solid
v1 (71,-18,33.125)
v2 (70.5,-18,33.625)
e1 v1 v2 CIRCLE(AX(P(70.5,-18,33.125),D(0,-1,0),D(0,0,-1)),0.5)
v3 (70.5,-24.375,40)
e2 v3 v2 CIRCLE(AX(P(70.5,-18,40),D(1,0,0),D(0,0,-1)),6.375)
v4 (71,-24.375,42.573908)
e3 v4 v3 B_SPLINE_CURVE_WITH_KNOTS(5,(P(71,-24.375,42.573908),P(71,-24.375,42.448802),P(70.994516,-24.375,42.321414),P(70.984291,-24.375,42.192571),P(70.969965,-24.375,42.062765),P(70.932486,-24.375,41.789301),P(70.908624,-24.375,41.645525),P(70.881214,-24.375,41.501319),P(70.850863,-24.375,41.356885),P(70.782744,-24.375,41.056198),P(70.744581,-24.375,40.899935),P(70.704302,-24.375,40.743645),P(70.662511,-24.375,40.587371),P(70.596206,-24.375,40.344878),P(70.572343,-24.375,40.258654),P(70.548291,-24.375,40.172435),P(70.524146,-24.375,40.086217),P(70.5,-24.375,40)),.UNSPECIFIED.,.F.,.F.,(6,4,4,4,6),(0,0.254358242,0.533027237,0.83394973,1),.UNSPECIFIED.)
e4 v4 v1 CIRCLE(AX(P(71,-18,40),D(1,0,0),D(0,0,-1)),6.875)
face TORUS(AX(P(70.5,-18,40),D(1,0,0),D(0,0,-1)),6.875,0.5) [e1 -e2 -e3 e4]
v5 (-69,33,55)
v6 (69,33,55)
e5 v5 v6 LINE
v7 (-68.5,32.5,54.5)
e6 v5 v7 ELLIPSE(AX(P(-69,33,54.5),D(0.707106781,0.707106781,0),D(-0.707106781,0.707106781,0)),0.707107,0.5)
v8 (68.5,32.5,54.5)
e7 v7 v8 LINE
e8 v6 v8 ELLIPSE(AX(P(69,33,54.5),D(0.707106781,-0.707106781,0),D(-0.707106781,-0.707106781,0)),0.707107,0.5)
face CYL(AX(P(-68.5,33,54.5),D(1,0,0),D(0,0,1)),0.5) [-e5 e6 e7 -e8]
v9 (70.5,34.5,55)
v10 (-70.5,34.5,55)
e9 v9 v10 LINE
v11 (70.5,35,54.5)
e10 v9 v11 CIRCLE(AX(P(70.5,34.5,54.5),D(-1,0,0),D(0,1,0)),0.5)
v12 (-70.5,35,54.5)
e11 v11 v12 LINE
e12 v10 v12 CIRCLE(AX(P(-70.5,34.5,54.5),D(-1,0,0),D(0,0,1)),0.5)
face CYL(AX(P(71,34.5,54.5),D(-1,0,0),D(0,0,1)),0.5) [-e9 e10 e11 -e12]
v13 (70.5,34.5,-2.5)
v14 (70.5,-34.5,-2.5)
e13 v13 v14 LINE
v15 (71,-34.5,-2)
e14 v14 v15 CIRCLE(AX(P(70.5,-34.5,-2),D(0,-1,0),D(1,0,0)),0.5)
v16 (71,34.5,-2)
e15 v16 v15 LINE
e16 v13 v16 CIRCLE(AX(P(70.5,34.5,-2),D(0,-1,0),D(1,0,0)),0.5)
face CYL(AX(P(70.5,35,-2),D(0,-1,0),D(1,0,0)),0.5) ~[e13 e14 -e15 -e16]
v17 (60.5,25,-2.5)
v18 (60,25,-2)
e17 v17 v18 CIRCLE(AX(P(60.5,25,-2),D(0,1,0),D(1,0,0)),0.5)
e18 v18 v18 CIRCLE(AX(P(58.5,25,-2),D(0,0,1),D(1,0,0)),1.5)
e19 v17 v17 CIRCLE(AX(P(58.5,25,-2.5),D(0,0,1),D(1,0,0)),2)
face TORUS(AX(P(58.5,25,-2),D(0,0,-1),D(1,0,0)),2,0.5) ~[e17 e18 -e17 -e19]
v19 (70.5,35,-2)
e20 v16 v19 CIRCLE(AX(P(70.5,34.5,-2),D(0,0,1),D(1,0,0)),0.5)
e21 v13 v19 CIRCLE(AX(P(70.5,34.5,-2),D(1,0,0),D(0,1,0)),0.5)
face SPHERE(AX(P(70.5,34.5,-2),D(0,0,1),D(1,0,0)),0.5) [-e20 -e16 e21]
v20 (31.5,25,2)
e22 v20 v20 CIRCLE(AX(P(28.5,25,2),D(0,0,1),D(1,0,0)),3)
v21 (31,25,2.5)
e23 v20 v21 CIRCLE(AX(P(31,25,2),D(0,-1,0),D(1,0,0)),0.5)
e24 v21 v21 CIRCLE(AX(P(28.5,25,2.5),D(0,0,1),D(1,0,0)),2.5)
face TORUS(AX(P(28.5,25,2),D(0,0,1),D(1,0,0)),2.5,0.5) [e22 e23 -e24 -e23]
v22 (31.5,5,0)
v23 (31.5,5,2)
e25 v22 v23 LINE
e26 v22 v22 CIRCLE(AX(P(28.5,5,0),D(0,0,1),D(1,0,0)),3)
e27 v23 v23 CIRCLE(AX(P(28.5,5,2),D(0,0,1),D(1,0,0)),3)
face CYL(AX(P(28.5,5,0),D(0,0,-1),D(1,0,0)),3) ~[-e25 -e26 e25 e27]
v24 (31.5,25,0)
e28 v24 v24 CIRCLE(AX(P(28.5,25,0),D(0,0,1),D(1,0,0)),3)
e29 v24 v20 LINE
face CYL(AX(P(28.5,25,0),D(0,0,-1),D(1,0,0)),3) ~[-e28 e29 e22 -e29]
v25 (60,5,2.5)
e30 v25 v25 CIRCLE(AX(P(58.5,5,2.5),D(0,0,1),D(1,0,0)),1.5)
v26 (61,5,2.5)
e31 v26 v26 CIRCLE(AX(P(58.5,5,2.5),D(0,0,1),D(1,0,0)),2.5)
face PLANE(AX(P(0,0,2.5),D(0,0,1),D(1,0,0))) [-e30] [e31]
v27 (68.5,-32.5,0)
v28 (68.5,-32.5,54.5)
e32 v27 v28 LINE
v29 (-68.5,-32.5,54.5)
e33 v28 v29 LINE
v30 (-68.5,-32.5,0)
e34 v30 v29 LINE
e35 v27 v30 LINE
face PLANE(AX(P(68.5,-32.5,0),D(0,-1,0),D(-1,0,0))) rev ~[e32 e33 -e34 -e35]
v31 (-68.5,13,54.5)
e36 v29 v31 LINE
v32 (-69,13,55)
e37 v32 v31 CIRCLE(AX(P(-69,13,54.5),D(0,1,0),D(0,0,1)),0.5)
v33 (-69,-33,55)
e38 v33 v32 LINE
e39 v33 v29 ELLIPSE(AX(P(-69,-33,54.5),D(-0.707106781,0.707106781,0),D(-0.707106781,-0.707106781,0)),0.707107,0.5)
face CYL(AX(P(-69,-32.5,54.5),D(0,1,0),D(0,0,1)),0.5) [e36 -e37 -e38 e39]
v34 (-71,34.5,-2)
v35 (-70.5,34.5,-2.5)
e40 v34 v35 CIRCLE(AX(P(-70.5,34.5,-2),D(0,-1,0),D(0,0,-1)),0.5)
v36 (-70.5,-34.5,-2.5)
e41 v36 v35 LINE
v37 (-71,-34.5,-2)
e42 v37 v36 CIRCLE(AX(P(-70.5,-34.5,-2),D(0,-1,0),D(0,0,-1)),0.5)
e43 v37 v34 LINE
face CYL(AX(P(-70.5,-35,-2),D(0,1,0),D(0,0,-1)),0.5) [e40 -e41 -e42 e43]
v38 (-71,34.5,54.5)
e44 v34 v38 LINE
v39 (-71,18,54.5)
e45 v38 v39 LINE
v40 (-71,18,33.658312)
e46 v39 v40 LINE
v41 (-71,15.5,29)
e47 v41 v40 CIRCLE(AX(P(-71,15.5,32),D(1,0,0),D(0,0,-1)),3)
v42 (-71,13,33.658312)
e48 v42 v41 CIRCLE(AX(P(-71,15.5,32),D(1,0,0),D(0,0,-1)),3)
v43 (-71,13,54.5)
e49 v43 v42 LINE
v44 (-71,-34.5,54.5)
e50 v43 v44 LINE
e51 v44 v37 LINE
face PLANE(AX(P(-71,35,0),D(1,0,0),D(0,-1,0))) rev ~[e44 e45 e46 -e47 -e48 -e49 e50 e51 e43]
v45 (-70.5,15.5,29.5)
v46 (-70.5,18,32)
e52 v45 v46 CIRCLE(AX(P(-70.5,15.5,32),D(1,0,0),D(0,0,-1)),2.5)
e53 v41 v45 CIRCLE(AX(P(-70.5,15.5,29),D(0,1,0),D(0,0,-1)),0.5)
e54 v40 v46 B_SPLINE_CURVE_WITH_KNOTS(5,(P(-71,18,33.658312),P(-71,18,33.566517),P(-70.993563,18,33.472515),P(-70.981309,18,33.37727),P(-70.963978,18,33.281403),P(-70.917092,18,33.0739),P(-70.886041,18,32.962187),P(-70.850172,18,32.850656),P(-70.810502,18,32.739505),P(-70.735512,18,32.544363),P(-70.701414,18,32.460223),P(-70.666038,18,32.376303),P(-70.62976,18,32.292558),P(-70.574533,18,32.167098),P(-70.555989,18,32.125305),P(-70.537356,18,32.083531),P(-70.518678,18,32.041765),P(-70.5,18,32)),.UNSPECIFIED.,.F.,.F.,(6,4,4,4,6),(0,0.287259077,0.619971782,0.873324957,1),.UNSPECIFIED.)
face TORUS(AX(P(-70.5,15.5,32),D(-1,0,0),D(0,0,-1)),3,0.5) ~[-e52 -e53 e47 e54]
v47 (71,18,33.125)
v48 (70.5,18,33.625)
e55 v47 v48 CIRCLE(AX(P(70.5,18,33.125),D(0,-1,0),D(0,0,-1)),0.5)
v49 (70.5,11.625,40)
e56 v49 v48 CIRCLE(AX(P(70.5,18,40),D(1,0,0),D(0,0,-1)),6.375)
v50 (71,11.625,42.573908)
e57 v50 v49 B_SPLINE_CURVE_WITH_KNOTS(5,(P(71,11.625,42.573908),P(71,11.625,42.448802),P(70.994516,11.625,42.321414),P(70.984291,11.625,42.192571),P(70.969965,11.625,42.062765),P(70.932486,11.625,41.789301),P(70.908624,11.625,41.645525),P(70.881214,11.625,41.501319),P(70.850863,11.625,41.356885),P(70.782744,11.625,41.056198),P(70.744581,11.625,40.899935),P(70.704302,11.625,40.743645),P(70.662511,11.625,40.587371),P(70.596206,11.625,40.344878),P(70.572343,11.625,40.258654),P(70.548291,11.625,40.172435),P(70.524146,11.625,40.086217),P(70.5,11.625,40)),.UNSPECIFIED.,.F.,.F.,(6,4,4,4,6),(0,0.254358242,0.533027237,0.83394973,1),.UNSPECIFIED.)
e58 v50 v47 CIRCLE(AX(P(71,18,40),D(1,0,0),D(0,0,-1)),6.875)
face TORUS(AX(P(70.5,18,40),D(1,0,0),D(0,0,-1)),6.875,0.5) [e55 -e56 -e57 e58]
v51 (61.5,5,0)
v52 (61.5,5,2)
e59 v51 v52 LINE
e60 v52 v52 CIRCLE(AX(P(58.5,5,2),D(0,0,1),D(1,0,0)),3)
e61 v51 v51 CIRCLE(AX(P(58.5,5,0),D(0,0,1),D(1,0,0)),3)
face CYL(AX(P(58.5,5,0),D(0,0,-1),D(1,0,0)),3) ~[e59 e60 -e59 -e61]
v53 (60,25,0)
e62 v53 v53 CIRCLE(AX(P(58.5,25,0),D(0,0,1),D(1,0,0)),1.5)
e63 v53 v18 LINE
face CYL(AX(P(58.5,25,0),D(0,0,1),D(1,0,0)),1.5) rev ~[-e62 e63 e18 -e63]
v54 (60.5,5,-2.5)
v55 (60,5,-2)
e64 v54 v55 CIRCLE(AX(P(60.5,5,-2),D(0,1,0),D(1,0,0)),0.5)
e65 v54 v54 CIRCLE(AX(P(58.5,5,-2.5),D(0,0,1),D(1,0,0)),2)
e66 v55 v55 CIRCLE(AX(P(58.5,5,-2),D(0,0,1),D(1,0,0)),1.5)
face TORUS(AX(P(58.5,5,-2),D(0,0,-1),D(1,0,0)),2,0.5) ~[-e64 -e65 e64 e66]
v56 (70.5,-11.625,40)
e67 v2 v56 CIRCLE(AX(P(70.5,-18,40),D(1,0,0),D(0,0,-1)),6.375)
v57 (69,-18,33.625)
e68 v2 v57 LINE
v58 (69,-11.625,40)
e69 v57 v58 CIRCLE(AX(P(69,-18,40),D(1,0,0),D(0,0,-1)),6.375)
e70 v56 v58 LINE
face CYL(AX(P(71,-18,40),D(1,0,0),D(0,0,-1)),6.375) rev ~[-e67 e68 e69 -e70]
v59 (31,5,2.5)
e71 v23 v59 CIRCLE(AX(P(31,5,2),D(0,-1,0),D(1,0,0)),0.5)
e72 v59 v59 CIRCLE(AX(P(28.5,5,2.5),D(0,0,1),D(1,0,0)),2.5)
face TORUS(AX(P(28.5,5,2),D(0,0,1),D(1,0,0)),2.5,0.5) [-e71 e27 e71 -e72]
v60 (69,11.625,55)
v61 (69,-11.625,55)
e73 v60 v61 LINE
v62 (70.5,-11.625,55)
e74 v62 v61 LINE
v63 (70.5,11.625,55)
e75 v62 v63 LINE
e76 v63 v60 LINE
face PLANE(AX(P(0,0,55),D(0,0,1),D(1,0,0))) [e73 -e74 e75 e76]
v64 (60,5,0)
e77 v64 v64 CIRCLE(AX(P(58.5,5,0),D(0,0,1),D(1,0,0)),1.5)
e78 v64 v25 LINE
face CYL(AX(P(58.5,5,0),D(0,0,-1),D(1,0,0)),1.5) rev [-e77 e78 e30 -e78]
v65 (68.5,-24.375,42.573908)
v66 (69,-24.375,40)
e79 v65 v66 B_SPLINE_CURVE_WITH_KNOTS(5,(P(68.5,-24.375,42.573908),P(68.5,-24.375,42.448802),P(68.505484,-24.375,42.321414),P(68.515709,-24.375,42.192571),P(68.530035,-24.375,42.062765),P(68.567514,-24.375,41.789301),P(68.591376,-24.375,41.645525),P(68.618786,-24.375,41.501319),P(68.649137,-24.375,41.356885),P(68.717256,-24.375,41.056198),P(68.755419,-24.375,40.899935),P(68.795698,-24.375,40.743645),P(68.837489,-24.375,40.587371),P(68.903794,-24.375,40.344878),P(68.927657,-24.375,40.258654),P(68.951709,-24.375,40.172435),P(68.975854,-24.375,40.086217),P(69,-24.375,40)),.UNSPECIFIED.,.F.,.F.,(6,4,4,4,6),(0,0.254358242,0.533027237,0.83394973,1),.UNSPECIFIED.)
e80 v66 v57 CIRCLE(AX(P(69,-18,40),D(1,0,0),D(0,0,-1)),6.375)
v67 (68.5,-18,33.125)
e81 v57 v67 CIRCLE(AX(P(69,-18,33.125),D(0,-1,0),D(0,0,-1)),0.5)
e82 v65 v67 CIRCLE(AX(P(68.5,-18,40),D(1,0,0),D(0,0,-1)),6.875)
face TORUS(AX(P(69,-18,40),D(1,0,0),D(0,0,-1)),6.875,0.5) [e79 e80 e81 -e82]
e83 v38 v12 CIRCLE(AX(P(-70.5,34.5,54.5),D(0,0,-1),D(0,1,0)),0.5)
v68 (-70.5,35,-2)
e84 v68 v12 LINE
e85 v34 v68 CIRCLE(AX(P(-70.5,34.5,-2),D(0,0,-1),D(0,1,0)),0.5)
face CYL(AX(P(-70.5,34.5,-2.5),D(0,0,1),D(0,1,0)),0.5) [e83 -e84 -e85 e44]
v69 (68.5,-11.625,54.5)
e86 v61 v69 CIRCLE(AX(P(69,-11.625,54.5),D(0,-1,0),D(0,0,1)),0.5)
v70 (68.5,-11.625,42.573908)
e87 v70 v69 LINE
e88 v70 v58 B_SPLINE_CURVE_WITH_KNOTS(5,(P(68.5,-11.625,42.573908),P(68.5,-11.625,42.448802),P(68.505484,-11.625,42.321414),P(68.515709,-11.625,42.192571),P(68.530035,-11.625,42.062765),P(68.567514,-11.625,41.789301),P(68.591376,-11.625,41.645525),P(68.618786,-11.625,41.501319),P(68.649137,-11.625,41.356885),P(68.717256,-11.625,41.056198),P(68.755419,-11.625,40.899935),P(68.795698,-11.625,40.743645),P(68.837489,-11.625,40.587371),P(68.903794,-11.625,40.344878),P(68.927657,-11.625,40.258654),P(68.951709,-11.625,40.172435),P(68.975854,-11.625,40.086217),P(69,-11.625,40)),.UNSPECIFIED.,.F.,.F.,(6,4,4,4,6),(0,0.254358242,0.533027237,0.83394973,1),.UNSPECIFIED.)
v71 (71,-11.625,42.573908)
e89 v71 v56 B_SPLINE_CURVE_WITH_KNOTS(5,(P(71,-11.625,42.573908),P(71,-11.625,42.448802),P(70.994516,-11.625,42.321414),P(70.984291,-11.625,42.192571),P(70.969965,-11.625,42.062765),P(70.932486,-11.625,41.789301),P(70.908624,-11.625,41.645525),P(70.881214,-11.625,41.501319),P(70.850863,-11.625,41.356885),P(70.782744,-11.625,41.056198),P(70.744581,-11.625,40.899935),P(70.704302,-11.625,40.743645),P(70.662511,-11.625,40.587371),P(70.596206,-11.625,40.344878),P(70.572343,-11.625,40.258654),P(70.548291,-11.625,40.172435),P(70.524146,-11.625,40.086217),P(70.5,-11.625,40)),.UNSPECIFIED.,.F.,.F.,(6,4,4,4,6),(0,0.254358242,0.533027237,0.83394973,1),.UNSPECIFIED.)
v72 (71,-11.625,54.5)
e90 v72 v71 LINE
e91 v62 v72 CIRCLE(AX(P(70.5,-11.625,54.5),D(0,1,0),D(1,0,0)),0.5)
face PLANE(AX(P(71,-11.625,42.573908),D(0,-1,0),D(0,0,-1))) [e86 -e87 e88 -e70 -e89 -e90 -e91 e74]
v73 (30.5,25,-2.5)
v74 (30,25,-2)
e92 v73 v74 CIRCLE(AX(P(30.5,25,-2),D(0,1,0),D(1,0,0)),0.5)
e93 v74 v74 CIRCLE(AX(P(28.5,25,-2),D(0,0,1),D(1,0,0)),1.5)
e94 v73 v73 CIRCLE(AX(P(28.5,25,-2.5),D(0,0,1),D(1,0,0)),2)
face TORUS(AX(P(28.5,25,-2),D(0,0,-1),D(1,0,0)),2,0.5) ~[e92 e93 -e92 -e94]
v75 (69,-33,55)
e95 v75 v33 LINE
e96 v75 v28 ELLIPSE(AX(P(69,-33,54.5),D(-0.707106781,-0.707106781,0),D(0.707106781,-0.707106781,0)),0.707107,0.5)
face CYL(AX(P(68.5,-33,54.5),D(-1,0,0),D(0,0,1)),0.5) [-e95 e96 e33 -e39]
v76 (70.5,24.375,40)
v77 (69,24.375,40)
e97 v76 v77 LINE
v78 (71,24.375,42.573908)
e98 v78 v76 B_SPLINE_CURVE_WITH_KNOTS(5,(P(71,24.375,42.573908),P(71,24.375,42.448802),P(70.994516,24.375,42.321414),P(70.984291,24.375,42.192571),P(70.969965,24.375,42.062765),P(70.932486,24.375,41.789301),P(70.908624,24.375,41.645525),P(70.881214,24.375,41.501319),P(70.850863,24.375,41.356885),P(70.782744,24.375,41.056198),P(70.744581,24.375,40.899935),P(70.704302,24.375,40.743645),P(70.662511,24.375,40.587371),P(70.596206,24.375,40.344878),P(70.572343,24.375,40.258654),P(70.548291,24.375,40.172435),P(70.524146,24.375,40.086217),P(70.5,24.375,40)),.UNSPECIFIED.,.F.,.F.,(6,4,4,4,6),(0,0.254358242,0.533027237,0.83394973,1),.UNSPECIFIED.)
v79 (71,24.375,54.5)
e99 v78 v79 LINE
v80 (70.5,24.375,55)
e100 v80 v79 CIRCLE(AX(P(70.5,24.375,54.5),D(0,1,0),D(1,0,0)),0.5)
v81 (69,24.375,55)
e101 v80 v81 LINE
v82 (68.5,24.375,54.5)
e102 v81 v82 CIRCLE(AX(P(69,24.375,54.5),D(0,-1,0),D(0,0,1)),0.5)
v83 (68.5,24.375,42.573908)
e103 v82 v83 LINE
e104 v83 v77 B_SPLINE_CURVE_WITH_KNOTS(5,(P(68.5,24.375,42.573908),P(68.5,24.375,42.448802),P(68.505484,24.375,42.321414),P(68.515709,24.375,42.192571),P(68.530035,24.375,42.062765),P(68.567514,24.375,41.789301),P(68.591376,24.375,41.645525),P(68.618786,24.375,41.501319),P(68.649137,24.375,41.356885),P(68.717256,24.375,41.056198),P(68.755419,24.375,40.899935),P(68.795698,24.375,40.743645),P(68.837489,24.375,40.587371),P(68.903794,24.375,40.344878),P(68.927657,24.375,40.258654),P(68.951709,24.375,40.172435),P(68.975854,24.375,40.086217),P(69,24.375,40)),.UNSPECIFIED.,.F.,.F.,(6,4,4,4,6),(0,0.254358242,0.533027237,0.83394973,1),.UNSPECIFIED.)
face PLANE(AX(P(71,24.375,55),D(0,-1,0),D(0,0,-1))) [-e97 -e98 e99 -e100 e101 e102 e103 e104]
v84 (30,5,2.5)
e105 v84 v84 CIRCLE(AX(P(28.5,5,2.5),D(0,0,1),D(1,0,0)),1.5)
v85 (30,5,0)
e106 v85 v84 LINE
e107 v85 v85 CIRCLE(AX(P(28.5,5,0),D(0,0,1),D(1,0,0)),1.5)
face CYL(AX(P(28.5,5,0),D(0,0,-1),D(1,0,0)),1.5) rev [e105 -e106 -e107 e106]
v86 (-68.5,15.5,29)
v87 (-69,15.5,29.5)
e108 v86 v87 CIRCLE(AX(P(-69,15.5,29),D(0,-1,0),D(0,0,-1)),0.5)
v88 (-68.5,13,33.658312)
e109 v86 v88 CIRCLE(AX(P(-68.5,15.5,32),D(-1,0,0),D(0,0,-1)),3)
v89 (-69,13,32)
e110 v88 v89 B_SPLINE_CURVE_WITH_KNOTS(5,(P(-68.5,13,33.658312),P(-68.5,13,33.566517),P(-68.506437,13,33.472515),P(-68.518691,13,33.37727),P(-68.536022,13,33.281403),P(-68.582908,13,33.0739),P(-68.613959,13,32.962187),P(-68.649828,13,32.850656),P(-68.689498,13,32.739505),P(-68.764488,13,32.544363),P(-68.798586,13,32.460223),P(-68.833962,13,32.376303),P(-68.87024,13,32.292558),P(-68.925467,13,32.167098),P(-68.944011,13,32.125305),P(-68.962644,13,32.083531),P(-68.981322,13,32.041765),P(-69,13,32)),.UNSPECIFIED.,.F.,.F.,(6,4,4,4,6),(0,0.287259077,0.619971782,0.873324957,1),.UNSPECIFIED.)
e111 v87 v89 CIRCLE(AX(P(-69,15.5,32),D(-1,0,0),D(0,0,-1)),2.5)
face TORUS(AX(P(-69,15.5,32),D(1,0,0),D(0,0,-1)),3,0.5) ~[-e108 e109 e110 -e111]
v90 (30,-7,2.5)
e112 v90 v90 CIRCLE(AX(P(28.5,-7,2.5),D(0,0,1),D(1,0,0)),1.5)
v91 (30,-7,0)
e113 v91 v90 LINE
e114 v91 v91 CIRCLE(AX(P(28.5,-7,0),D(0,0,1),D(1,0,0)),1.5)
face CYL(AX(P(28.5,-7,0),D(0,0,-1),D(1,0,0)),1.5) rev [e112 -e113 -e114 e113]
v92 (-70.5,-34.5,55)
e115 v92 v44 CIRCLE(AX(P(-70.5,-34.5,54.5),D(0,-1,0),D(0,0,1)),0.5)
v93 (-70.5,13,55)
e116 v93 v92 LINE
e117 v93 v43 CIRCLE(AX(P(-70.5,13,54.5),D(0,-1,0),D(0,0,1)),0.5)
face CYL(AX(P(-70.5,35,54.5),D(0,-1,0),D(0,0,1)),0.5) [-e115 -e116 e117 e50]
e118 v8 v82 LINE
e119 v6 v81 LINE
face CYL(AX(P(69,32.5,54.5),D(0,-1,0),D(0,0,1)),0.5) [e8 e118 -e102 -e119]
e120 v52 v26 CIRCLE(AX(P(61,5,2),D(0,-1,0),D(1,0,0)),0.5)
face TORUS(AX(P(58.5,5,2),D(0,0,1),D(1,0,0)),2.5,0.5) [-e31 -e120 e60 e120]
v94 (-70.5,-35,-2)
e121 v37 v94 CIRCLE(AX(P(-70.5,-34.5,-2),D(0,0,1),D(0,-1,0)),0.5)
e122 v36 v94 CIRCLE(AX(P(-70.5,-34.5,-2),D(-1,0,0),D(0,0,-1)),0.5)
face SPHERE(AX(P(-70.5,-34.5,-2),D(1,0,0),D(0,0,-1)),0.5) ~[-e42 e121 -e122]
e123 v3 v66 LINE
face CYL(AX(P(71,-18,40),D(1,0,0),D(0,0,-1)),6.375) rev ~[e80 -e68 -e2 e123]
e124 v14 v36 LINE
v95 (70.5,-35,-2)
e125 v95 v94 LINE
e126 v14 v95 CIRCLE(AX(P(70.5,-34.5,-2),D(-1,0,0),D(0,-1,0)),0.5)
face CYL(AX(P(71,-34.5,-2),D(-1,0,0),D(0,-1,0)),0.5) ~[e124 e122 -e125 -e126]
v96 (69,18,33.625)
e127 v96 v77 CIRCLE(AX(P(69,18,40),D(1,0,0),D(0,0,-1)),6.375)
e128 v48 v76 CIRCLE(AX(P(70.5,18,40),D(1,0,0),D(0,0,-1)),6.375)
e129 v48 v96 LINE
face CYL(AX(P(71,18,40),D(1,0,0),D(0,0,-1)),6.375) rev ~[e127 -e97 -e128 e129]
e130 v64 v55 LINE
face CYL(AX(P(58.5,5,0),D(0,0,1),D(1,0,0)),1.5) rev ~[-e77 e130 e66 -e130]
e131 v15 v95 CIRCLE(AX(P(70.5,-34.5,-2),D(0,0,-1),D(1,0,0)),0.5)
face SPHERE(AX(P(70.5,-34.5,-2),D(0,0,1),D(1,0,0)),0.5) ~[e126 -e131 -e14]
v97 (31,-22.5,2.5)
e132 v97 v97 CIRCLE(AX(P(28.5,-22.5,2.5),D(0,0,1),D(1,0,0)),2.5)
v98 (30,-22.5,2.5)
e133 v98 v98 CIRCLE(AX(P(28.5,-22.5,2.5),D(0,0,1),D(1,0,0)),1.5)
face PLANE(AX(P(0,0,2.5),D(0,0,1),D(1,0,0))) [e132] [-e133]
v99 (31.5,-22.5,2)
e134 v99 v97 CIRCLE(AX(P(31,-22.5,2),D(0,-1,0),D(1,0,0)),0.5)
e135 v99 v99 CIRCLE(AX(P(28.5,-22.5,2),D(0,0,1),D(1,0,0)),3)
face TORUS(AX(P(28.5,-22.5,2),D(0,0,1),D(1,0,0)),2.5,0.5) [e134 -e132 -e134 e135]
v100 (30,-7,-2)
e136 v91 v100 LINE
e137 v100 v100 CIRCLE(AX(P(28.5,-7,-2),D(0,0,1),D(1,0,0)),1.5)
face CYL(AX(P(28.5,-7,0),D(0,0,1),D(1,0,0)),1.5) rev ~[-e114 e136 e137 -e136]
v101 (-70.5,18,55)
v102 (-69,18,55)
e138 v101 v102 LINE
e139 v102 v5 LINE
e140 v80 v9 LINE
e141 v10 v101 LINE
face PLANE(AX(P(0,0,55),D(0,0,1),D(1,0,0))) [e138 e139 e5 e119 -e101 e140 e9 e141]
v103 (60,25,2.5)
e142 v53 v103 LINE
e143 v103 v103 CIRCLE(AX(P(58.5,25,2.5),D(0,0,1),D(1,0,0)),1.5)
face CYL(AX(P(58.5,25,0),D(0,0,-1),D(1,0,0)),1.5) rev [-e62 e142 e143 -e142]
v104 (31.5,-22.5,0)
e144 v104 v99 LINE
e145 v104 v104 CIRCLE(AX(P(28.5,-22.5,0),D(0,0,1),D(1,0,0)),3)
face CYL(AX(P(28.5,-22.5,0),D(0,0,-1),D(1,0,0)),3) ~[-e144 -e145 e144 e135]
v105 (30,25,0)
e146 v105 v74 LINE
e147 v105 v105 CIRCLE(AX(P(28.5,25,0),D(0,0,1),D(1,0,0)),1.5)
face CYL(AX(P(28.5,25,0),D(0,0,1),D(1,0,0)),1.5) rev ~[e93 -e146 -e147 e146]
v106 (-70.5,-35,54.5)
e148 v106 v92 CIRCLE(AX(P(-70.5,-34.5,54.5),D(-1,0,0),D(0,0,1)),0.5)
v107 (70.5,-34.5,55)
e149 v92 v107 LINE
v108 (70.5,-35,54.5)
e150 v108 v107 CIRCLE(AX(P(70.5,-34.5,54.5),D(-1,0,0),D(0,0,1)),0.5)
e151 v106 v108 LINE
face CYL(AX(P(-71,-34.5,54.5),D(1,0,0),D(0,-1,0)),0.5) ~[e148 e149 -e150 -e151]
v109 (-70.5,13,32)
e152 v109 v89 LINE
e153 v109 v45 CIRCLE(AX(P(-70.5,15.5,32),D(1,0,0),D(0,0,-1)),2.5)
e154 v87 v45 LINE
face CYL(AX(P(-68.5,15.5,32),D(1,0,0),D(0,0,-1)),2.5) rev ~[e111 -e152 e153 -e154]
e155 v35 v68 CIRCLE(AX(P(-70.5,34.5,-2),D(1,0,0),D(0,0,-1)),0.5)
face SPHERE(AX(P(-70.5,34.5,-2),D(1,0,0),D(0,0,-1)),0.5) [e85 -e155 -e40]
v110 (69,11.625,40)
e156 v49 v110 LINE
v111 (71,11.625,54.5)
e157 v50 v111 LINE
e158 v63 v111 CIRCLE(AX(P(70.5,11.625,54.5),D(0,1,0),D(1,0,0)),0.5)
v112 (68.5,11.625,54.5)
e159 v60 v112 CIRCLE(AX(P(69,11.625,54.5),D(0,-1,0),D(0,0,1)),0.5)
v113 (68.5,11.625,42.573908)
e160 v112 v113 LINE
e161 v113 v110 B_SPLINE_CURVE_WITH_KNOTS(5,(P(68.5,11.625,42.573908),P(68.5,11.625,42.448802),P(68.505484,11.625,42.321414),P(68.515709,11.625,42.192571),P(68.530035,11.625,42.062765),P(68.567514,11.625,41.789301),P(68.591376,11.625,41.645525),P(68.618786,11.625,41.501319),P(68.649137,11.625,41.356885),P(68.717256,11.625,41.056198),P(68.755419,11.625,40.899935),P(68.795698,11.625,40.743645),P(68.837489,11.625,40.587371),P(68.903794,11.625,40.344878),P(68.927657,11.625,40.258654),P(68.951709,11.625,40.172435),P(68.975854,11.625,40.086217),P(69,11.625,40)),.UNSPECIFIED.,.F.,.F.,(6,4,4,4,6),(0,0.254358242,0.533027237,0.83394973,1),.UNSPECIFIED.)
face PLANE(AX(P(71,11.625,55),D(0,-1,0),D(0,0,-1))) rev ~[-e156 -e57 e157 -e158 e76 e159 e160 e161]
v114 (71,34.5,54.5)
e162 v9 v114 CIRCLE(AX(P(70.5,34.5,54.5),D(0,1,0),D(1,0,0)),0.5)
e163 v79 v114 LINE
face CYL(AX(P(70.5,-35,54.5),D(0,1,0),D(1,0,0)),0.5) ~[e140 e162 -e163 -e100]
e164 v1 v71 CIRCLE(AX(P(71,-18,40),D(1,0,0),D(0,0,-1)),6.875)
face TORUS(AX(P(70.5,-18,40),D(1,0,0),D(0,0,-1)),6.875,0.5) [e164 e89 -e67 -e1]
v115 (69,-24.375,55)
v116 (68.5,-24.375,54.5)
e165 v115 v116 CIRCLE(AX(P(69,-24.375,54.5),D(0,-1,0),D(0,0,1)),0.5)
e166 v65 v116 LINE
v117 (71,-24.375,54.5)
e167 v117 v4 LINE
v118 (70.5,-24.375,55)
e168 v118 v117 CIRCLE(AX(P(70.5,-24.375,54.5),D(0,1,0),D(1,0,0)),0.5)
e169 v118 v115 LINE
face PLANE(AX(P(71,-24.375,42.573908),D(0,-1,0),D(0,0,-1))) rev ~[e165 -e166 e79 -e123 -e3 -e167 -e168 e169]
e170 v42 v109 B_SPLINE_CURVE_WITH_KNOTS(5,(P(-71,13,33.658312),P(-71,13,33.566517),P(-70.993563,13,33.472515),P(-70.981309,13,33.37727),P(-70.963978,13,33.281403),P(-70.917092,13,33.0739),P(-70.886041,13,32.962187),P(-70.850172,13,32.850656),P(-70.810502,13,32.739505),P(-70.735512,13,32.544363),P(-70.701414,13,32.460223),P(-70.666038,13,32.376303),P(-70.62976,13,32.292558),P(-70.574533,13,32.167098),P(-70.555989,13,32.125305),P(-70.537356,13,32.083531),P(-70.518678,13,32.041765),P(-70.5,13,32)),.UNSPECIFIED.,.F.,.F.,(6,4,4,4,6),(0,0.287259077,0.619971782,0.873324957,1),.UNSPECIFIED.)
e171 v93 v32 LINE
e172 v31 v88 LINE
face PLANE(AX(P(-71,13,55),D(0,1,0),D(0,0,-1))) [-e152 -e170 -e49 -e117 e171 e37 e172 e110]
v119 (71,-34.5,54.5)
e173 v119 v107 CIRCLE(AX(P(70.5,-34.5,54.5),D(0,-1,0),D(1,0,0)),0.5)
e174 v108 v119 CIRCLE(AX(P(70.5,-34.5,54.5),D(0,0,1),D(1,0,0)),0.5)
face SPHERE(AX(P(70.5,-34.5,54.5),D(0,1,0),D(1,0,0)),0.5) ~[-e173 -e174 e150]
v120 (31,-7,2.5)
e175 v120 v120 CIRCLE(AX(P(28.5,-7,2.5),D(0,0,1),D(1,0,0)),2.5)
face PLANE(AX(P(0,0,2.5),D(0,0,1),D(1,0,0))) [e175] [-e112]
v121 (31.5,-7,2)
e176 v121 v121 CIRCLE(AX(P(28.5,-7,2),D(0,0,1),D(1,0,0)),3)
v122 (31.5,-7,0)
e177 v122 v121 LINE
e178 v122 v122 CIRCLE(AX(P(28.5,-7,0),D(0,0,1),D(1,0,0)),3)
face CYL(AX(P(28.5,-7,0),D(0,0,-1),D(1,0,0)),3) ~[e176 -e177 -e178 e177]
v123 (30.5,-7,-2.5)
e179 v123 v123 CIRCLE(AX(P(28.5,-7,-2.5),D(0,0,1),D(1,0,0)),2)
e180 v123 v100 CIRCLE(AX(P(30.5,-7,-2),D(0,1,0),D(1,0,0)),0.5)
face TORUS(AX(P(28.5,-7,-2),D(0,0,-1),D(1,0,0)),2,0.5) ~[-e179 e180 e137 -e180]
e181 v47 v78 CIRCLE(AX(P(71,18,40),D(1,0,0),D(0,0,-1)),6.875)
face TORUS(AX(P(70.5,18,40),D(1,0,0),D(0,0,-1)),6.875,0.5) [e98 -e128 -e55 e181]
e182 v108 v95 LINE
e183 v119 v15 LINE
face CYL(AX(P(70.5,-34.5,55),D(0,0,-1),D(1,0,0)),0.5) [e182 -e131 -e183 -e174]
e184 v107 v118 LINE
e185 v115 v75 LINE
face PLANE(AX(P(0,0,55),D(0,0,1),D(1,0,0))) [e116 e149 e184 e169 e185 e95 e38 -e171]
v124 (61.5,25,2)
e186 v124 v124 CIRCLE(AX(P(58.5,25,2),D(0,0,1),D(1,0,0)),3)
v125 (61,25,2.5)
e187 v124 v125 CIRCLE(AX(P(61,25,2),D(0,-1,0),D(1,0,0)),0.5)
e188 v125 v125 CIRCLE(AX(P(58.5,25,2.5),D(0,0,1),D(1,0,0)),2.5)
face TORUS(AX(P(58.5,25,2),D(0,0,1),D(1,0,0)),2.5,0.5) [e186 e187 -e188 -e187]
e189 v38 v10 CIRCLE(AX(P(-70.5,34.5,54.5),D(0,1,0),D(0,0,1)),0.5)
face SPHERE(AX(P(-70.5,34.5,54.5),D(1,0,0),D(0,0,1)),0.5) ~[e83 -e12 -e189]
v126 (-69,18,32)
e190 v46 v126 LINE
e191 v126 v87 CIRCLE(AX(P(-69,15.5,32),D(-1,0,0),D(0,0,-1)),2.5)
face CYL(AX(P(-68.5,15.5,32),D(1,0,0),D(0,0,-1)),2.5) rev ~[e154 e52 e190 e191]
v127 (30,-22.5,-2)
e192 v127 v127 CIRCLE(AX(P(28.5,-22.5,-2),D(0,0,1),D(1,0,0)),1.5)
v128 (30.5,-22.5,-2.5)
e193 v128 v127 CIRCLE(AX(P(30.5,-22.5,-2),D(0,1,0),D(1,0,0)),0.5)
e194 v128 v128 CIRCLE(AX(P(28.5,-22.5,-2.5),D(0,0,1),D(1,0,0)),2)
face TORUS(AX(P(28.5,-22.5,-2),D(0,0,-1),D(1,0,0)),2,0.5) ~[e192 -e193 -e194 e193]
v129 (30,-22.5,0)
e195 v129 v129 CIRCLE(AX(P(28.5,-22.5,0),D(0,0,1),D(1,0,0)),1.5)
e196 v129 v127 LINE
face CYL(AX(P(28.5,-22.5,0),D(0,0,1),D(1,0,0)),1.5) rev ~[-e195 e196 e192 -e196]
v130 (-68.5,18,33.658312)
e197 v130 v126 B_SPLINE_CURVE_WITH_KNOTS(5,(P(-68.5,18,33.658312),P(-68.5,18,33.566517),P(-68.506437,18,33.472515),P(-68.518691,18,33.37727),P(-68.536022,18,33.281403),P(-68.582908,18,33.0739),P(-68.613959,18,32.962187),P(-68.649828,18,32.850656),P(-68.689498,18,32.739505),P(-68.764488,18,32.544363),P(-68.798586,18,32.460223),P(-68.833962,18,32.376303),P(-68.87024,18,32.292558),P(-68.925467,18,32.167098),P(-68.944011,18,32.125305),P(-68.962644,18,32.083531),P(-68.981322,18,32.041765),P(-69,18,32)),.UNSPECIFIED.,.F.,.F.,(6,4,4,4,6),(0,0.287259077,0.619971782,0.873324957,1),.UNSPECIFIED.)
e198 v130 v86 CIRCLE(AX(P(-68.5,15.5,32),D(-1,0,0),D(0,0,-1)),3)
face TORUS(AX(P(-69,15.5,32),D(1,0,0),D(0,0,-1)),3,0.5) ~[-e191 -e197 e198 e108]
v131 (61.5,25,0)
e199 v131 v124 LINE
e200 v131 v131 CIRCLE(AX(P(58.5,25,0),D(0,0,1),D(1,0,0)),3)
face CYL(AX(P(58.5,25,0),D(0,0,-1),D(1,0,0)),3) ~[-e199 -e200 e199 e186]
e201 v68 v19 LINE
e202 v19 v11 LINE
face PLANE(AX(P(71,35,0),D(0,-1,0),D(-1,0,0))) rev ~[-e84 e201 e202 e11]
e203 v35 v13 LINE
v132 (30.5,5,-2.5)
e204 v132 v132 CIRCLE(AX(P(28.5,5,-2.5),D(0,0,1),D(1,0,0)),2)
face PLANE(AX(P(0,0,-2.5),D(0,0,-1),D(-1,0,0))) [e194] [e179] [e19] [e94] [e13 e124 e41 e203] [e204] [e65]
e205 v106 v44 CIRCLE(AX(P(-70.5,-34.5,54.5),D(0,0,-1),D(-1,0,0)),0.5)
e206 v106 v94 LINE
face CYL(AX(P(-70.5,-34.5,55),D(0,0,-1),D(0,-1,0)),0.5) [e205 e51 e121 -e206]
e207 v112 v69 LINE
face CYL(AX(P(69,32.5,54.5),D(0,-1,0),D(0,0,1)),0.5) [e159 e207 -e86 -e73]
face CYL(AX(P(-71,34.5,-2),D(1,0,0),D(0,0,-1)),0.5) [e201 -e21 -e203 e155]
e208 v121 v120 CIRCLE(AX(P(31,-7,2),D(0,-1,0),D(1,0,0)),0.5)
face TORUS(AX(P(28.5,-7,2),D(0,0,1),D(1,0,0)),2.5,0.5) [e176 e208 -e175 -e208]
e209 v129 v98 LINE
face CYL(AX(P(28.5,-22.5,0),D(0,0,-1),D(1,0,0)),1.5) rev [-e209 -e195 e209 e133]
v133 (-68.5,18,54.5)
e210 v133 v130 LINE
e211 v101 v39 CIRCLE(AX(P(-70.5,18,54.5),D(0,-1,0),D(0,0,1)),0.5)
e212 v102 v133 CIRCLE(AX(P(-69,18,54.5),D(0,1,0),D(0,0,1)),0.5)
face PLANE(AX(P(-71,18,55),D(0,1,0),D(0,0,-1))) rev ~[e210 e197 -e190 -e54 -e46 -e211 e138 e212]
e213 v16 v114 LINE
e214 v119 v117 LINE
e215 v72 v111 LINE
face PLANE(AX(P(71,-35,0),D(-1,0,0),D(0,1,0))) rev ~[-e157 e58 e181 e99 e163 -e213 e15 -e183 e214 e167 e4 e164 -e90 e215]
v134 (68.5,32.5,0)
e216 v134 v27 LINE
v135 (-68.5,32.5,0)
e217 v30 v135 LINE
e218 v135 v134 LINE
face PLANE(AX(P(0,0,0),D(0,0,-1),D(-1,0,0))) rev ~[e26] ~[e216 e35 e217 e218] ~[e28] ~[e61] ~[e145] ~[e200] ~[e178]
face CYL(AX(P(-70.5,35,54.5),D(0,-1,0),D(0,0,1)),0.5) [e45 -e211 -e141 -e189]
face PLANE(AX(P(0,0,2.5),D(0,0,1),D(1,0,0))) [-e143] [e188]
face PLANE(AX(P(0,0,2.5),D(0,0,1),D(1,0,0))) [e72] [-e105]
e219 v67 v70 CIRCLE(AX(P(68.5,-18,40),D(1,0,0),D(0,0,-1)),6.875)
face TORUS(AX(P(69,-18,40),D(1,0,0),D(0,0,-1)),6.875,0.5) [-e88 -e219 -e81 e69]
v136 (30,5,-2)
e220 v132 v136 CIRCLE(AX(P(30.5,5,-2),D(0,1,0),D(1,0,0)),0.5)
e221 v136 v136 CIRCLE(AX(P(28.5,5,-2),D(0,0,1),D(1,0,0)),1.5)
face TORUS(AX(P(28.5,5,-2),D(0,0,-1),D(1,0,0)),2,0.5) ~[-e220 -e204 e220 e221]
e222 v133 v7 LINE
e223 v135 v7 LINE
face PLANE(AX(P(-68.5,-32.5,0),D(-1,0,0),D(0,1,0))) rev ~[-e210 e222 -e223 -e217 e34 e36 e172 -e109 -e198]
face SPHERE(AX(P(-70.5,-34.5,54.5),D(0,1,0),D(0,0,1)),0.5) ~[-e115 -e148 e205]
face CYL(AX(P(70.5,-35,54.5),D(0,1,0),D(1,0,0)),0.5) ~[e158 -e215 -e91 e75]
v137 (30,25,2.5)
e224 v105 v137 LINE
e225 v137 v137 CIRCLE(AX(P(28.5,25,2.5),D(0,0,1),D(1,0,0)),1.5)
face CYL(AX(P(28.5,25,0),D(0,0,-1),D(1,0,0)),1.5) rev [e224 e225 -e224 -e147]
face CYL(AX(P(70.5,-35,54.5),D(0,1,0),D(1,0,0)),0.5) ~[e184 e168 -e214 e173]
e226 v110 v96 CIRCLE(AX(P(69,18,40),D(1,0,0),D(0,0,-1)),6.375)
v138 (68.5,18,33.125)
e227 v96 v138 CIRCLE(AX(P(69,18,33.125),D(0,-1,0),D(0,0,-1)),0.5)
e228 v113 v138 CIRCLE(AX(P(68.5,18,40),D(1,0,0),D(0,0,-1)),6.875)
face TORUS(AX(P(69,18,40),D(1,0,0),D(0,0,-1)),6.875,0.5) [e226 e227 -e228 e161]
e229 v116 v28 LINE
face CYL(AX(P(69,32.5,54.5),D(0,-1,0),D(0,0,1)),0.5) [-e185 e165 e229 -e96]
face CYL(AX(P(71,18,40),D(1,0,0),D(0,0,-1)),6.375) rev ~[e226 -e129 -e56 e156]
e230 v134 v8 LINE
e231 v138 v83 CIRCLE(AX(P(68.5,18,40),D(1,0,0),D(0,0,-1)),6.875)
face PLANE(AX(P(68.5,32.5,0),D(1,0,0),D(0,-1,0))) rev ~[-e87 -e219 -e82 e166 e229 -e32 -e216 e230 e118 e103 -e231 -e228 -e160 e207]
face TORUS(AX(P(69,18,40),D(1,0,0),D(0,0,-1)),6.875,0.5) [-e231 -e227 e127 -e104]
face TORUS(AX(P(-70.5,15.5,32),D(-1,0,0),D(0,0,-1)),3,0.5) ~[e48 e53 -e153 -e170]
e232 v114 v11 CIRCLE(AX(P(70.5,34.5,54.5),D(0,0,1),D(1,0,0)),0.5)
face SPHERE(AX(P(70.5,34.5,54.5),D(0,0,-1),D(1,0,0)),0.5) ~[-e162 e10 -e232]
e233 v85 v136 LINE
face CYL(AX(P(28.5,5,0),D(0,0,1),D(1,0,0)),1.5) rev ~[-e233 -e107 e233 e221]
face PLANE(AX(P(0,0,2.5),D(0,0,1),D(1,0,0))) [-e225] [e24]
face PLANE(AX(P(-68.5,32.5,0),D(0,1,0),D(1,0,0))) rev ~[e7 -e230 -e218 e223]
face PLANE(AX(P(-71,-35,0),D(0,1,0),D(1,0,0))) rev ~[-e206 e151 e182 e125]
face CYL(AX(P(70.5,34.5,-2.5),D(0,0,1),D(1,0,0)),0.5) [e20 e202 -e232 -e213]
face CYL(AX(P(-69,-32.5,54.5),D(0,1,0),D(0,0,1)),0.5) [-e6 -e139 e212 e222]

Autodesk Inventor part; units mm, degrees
ref_plane "YZ Plane" through (0, 0, 0) normal (1, 0, 0) x (0, 1, 0)
ref_plane "XZ Plane" through (0, 0, 0) normal (0, 1, 0) x (-1, 0, 0)
ref_plane "XY Plane" through (0, 0, 0) normal (0, 0, 1) x (1, 0, 0)
sketch "Sketch1" plane through (0, 0, 0) normal (0, 0, 1) x (1, 0, 0)
  line L0 (-68.5, 32.5) -> (68.5, 32.5)
  line L1 (68.5, 32.5) -> (68.5, -32.5)
  line L2 (68.5, -32.5) -> (-68.5, -32.5)
  line L3 (-68.5, -32.5) -> (-68.5, 32.5)
  line L4 (71, 35) -> (-71, 35)
  line L5 (-71, 35) -> (-71, -35)
  line L6 (-71, -35) -> (71, -35)
  line L7 (71, -35) -> (71, 35)
  point P0 (0, 0)
  dimension "d0" = 137
  dimension "d1" = 68.5
  dimension "d2" = 65
  dimension "d3" = 32.5
  dimension "d4" = 2.5
extrude "Extrusion1" add sketch "Sketch1" along normal blind 55
sketch "Sketch2" plane through (0, 0, 0) normal (0, 0, -1) x (-1, 0, 0)
  line L0 (71, 35) -> (-71, 35)
  line L1 (-71, 35) -> (-71, -35)
  line L2 (-71, -35) -> (71, -35)
  line L3 (71, -35) -> (71, 35)
  point P0 (0, 0)
  dimension "d7" = 142
  dimension "d8" = 70
  dimension "d9" = 35
  dimension "d10" = 71
extrude "Extrusion2" add sketch "Sketch2" along normal blind 2.5
sketch "Sketch3" plane through (71, -35, 55) normal (1, 0, 0) x (0, 0, -1)
  circle A0 centre (15, 17) radius 6.375
  circle A1 centre (15, 53) radius 6.375
  line L0 (55, 2.5) -> (55, 67.5) projected
  line L1 (57.5, 0) -> (0, 0) projected
  point P0 (55, 35)
  dimension "d13" = 12.75
  dimension "d14" = 12.75
  dimension "d15" = 40
  dimension "d16" = 40
  dimension "d17" = 36
  dimension "d18" = 17
extrude "Extrusion3" cut sketch "Sketch3" against normal up to surface (2.5 mm away)
sketch "Sketch4" plane through (-68.5, -32.5, 55) normal (1, 0, 0) x (0, 0, -1)
  circle A0 centre (23, 48) radius 2.5
  circle A1 centre (15, 50.5) radius 6.375 projected
  point P0 (55, 32.5)
  point P1 (0, 65)
  dimension "d21" = 5
  dimension "d22" = 17
  dimension "d25" = 8
extrude "Extrusion4" cut sketch "Sketch4" against normal blind 2.5 contours A0 A1 | A1 A0 picked at (22.5229, 48.2025) picked at (20.8961, 48.5627)
sketch "Sketch5" plane through (0, 0, 0) normal (0, 0, 1) x (1, 0, 0)
  circle A0 centre (28.5, -7) radius 1.5
  circle A1 centre (28.5, -22.5) radius 1.5
  line L0 (68.5, 32.5) -> (68.5, -32.5) projected
  line L1 (68.5, -32.5) -> (-68.5, -32.5) projected
  point P0 (0, 0)
  dimension "d28" = 3
  dimension "d29" = 3
  dimension "d32" = 15.5
  dimension "d33" = 40
  dimension "d34" = 40
  dimension "d35" = 10
extrude "Extrusion5" cut sketch "Sketch5" against normal through all
sketch "Sketch6" plane through (0, 0, 0) normal (0, 0, 1) x (1, 0, 0)
  circle A0 centre (28.5, -7) radius 1.5 projected
  circle A1 centre (28.5, -22.5) radius 1.5 projected
  circle A2 centre (28.5, -7) radius 3
  circle A3 centre (28.5, -22.5) radius 3
  point P0 (0, 0)
  dimension "d38" = 6
  dimension "d39" = 6
extrude "Extrusion6" add sketch "Sketch6" along normal blind 2.5
sketch "Sketch7" plane through (0, 0, 0) normal (0, 0, 1) x (1, 0, 0)
  circle A0 centre (28.5, 25) radius 1.5
  circle A1 centre (58.5, 25) radius 1.5
  circle A2 centre (58.5, 5) radius 1.5
  circle A3 centre (28.5, 5) radius 1.5
  line L0 (-68.5, 32.5) -> (68.5, 32.5) projected
  line L1 (68.5, 32.5) -> (68.5, -32.5) projected
  point P0 (0, 0)
  dimension "d42" = 3
  dimension "d43" = 3
  dimension "d44" = 3
  dimension "d45" = 3
  dimension "d46" = 30
  dimension "d47" = 20
  dimension "d48" = 0
  dimension "d49" = 20
  dimension "d50" = 7.5
  dimension "d51" = 10
  dimension "d52" = 0
  dimension "d53" = 0
extrude "Extrusion7" cut sketch "Sketch7" against normal through all
sketch "Sketch8" plane through (0, 0, 0) normal (0, 0, 1) x (1, 0, 0)
  circle A0 centre (28.5, 25) radius 1.5 projected
  circle A1 centre (28.5, 5) radius 1.5 projected
  circle A2 centre (58.5, 5) radius 1.5 projected
  circle A3 centre (58.5, 25) radius 1.5 projected
  circle A4 centre (28.5, 25) radius 3
  circle A5 centre (58.5, 25) radius 3
  circle A6 centre (58.5, 5) radius 3
  circle A7 centre (28.5, 5) radius 3
  point P0 (0, 0)
  dimension "d56" = 6
  dimension "d57" = 6
  dimension "d58" = 6
  dimension "d59" = 6
extrude "Extrusion8" add sketch "Sketch8" along normal blind 2.5
fillet "Fillet1" radius 0.5 28 edges at (71, 18, 46.375) (71, -18, 46.375) (68.5, -18, 46.375) (68.5, 18, 46.375) (68.5, 0, 55) (0, -32.5, 55) (-68.5, 0, 55) (0, 32.5, 55) (71, 35, 26.25) (71, 0, 55) (71, -35, 26.25) (71, 0, -2.5) (0, 35, 55) (-71, 0, 55) (0, -35, 55) (0, 35, -2.5) (0, -35, -2.5) (-71, 0, -2.5) (-71, -35, 26.25) (-71, 35, 26.25) (-71, 15.5, 34.5) (-68.5, 15.5, 34.5) (57, 5, -2.5) (57, 25, -2.5) (27, 25, -2.5) (27, 5, -2.5) (27, -7, -2.5) (27, -22.5, -2.5)
fillet "Fillet2" radius 0.5 6 edges at (25.5, -22.5, 2.5) (25.5, -7, 2.5) (25.5, 5, 2.5) (25.5, 25, 2.5) (55.5, 5, 2.5) (55.5, 25, 2.5)
sketch "Sketch9" plane through (71, -34.5, 54.5) normal (1, 0, 0) x (0, 0, -1)
  circle A0 centre (14.5, 16.5) radius 6.875 projected
  circle A1 centre (14.5, 52.5) radius 6.875 projected
  line L0 (0, 69) -> (56.5, 69) projected
  line L1 (0, 0) -> (0, 69) projected
  line L2 (56.5, 0) -> (0, 0) projected
  line L3 (56.5, 69) -> (56.5, 0) projected
  line L4 (-0.5, 10.125) -> (14.5, 10.125)
  line L5 (-0.5, 69) -> (-0.5, 0) projected
  circle A2 centre (14.5, 16.5) radius 6.375 projected
  circle A3 centre (14.5, 52.5) radius 6.375 projected
  arc A4 (14.5, 22.875) -> (14.5, 10.125) centre (14.5, 16.5) ccw
  arc A5 (14.5, 58.875) -> (14.5, 46.125) centre (14.5, 52.5) ccw
  line L6 (-0.5, 22.875) -> (14.5, 22.875)
  line L7 (-0.5, 46.125) -> (14.5, 46.125)
  line L8 (-0.5, 58.875) -> (14.5, 58.875)
  line L9 (-0.5, 46.125) -> (-0.5, 58.875)
  line L10 (-0.5, 10.125) -> (-0.5, 22.875)
  point P0 (54.5, 34.5)
extrude "Extrusion10" cut sketch "Sketch9" against normal blind 2.5 contours L6 A2 L4 A0 | A0 L4 L1 L6 | L1 L4 L5 L6 | L7 L5 L8 L1 | L1 L8 A1 L7 | A1 L8 A3 L7 picked at (7.9893, 16.5) picked at (7.9893, 52.5)
sketch "Sketch10" plane through (-71, -34.5, -2) normal (-1, 0, 0) x (0, 0, 1)
  line L0 (57, 0) -> (57, 69) projected
  line L1 (56.5, 69.5) -> (0, 69.5) projected
  circle A0 centre (34, 50) radius 2.5 projected
  arc A1 (34, 47.5) -> (34, 52.5) centre (34, 50) ccw
  line L2 (57, 52.5) -> (34, 52.5)
  line L3 (57, 47.5) -> (34, 47.5)
  point P0 (2, 34.5)
  dimension "d72" = 17
extrude "Extrusion11" cut sketch "Sketch10" against normal blind 2.5 contours L3 A0 L2 L0
equation "\"d1\" = 0.5 * d0"
equation "\"d3\" = 0.5 * d2"
equation "\"d14\" = d13"
equation "\"d16\" = d15"
equation "\"d34\" = d33"
equation "\"d49\" = d47"
properties part number "END NODE SIMPLE"
